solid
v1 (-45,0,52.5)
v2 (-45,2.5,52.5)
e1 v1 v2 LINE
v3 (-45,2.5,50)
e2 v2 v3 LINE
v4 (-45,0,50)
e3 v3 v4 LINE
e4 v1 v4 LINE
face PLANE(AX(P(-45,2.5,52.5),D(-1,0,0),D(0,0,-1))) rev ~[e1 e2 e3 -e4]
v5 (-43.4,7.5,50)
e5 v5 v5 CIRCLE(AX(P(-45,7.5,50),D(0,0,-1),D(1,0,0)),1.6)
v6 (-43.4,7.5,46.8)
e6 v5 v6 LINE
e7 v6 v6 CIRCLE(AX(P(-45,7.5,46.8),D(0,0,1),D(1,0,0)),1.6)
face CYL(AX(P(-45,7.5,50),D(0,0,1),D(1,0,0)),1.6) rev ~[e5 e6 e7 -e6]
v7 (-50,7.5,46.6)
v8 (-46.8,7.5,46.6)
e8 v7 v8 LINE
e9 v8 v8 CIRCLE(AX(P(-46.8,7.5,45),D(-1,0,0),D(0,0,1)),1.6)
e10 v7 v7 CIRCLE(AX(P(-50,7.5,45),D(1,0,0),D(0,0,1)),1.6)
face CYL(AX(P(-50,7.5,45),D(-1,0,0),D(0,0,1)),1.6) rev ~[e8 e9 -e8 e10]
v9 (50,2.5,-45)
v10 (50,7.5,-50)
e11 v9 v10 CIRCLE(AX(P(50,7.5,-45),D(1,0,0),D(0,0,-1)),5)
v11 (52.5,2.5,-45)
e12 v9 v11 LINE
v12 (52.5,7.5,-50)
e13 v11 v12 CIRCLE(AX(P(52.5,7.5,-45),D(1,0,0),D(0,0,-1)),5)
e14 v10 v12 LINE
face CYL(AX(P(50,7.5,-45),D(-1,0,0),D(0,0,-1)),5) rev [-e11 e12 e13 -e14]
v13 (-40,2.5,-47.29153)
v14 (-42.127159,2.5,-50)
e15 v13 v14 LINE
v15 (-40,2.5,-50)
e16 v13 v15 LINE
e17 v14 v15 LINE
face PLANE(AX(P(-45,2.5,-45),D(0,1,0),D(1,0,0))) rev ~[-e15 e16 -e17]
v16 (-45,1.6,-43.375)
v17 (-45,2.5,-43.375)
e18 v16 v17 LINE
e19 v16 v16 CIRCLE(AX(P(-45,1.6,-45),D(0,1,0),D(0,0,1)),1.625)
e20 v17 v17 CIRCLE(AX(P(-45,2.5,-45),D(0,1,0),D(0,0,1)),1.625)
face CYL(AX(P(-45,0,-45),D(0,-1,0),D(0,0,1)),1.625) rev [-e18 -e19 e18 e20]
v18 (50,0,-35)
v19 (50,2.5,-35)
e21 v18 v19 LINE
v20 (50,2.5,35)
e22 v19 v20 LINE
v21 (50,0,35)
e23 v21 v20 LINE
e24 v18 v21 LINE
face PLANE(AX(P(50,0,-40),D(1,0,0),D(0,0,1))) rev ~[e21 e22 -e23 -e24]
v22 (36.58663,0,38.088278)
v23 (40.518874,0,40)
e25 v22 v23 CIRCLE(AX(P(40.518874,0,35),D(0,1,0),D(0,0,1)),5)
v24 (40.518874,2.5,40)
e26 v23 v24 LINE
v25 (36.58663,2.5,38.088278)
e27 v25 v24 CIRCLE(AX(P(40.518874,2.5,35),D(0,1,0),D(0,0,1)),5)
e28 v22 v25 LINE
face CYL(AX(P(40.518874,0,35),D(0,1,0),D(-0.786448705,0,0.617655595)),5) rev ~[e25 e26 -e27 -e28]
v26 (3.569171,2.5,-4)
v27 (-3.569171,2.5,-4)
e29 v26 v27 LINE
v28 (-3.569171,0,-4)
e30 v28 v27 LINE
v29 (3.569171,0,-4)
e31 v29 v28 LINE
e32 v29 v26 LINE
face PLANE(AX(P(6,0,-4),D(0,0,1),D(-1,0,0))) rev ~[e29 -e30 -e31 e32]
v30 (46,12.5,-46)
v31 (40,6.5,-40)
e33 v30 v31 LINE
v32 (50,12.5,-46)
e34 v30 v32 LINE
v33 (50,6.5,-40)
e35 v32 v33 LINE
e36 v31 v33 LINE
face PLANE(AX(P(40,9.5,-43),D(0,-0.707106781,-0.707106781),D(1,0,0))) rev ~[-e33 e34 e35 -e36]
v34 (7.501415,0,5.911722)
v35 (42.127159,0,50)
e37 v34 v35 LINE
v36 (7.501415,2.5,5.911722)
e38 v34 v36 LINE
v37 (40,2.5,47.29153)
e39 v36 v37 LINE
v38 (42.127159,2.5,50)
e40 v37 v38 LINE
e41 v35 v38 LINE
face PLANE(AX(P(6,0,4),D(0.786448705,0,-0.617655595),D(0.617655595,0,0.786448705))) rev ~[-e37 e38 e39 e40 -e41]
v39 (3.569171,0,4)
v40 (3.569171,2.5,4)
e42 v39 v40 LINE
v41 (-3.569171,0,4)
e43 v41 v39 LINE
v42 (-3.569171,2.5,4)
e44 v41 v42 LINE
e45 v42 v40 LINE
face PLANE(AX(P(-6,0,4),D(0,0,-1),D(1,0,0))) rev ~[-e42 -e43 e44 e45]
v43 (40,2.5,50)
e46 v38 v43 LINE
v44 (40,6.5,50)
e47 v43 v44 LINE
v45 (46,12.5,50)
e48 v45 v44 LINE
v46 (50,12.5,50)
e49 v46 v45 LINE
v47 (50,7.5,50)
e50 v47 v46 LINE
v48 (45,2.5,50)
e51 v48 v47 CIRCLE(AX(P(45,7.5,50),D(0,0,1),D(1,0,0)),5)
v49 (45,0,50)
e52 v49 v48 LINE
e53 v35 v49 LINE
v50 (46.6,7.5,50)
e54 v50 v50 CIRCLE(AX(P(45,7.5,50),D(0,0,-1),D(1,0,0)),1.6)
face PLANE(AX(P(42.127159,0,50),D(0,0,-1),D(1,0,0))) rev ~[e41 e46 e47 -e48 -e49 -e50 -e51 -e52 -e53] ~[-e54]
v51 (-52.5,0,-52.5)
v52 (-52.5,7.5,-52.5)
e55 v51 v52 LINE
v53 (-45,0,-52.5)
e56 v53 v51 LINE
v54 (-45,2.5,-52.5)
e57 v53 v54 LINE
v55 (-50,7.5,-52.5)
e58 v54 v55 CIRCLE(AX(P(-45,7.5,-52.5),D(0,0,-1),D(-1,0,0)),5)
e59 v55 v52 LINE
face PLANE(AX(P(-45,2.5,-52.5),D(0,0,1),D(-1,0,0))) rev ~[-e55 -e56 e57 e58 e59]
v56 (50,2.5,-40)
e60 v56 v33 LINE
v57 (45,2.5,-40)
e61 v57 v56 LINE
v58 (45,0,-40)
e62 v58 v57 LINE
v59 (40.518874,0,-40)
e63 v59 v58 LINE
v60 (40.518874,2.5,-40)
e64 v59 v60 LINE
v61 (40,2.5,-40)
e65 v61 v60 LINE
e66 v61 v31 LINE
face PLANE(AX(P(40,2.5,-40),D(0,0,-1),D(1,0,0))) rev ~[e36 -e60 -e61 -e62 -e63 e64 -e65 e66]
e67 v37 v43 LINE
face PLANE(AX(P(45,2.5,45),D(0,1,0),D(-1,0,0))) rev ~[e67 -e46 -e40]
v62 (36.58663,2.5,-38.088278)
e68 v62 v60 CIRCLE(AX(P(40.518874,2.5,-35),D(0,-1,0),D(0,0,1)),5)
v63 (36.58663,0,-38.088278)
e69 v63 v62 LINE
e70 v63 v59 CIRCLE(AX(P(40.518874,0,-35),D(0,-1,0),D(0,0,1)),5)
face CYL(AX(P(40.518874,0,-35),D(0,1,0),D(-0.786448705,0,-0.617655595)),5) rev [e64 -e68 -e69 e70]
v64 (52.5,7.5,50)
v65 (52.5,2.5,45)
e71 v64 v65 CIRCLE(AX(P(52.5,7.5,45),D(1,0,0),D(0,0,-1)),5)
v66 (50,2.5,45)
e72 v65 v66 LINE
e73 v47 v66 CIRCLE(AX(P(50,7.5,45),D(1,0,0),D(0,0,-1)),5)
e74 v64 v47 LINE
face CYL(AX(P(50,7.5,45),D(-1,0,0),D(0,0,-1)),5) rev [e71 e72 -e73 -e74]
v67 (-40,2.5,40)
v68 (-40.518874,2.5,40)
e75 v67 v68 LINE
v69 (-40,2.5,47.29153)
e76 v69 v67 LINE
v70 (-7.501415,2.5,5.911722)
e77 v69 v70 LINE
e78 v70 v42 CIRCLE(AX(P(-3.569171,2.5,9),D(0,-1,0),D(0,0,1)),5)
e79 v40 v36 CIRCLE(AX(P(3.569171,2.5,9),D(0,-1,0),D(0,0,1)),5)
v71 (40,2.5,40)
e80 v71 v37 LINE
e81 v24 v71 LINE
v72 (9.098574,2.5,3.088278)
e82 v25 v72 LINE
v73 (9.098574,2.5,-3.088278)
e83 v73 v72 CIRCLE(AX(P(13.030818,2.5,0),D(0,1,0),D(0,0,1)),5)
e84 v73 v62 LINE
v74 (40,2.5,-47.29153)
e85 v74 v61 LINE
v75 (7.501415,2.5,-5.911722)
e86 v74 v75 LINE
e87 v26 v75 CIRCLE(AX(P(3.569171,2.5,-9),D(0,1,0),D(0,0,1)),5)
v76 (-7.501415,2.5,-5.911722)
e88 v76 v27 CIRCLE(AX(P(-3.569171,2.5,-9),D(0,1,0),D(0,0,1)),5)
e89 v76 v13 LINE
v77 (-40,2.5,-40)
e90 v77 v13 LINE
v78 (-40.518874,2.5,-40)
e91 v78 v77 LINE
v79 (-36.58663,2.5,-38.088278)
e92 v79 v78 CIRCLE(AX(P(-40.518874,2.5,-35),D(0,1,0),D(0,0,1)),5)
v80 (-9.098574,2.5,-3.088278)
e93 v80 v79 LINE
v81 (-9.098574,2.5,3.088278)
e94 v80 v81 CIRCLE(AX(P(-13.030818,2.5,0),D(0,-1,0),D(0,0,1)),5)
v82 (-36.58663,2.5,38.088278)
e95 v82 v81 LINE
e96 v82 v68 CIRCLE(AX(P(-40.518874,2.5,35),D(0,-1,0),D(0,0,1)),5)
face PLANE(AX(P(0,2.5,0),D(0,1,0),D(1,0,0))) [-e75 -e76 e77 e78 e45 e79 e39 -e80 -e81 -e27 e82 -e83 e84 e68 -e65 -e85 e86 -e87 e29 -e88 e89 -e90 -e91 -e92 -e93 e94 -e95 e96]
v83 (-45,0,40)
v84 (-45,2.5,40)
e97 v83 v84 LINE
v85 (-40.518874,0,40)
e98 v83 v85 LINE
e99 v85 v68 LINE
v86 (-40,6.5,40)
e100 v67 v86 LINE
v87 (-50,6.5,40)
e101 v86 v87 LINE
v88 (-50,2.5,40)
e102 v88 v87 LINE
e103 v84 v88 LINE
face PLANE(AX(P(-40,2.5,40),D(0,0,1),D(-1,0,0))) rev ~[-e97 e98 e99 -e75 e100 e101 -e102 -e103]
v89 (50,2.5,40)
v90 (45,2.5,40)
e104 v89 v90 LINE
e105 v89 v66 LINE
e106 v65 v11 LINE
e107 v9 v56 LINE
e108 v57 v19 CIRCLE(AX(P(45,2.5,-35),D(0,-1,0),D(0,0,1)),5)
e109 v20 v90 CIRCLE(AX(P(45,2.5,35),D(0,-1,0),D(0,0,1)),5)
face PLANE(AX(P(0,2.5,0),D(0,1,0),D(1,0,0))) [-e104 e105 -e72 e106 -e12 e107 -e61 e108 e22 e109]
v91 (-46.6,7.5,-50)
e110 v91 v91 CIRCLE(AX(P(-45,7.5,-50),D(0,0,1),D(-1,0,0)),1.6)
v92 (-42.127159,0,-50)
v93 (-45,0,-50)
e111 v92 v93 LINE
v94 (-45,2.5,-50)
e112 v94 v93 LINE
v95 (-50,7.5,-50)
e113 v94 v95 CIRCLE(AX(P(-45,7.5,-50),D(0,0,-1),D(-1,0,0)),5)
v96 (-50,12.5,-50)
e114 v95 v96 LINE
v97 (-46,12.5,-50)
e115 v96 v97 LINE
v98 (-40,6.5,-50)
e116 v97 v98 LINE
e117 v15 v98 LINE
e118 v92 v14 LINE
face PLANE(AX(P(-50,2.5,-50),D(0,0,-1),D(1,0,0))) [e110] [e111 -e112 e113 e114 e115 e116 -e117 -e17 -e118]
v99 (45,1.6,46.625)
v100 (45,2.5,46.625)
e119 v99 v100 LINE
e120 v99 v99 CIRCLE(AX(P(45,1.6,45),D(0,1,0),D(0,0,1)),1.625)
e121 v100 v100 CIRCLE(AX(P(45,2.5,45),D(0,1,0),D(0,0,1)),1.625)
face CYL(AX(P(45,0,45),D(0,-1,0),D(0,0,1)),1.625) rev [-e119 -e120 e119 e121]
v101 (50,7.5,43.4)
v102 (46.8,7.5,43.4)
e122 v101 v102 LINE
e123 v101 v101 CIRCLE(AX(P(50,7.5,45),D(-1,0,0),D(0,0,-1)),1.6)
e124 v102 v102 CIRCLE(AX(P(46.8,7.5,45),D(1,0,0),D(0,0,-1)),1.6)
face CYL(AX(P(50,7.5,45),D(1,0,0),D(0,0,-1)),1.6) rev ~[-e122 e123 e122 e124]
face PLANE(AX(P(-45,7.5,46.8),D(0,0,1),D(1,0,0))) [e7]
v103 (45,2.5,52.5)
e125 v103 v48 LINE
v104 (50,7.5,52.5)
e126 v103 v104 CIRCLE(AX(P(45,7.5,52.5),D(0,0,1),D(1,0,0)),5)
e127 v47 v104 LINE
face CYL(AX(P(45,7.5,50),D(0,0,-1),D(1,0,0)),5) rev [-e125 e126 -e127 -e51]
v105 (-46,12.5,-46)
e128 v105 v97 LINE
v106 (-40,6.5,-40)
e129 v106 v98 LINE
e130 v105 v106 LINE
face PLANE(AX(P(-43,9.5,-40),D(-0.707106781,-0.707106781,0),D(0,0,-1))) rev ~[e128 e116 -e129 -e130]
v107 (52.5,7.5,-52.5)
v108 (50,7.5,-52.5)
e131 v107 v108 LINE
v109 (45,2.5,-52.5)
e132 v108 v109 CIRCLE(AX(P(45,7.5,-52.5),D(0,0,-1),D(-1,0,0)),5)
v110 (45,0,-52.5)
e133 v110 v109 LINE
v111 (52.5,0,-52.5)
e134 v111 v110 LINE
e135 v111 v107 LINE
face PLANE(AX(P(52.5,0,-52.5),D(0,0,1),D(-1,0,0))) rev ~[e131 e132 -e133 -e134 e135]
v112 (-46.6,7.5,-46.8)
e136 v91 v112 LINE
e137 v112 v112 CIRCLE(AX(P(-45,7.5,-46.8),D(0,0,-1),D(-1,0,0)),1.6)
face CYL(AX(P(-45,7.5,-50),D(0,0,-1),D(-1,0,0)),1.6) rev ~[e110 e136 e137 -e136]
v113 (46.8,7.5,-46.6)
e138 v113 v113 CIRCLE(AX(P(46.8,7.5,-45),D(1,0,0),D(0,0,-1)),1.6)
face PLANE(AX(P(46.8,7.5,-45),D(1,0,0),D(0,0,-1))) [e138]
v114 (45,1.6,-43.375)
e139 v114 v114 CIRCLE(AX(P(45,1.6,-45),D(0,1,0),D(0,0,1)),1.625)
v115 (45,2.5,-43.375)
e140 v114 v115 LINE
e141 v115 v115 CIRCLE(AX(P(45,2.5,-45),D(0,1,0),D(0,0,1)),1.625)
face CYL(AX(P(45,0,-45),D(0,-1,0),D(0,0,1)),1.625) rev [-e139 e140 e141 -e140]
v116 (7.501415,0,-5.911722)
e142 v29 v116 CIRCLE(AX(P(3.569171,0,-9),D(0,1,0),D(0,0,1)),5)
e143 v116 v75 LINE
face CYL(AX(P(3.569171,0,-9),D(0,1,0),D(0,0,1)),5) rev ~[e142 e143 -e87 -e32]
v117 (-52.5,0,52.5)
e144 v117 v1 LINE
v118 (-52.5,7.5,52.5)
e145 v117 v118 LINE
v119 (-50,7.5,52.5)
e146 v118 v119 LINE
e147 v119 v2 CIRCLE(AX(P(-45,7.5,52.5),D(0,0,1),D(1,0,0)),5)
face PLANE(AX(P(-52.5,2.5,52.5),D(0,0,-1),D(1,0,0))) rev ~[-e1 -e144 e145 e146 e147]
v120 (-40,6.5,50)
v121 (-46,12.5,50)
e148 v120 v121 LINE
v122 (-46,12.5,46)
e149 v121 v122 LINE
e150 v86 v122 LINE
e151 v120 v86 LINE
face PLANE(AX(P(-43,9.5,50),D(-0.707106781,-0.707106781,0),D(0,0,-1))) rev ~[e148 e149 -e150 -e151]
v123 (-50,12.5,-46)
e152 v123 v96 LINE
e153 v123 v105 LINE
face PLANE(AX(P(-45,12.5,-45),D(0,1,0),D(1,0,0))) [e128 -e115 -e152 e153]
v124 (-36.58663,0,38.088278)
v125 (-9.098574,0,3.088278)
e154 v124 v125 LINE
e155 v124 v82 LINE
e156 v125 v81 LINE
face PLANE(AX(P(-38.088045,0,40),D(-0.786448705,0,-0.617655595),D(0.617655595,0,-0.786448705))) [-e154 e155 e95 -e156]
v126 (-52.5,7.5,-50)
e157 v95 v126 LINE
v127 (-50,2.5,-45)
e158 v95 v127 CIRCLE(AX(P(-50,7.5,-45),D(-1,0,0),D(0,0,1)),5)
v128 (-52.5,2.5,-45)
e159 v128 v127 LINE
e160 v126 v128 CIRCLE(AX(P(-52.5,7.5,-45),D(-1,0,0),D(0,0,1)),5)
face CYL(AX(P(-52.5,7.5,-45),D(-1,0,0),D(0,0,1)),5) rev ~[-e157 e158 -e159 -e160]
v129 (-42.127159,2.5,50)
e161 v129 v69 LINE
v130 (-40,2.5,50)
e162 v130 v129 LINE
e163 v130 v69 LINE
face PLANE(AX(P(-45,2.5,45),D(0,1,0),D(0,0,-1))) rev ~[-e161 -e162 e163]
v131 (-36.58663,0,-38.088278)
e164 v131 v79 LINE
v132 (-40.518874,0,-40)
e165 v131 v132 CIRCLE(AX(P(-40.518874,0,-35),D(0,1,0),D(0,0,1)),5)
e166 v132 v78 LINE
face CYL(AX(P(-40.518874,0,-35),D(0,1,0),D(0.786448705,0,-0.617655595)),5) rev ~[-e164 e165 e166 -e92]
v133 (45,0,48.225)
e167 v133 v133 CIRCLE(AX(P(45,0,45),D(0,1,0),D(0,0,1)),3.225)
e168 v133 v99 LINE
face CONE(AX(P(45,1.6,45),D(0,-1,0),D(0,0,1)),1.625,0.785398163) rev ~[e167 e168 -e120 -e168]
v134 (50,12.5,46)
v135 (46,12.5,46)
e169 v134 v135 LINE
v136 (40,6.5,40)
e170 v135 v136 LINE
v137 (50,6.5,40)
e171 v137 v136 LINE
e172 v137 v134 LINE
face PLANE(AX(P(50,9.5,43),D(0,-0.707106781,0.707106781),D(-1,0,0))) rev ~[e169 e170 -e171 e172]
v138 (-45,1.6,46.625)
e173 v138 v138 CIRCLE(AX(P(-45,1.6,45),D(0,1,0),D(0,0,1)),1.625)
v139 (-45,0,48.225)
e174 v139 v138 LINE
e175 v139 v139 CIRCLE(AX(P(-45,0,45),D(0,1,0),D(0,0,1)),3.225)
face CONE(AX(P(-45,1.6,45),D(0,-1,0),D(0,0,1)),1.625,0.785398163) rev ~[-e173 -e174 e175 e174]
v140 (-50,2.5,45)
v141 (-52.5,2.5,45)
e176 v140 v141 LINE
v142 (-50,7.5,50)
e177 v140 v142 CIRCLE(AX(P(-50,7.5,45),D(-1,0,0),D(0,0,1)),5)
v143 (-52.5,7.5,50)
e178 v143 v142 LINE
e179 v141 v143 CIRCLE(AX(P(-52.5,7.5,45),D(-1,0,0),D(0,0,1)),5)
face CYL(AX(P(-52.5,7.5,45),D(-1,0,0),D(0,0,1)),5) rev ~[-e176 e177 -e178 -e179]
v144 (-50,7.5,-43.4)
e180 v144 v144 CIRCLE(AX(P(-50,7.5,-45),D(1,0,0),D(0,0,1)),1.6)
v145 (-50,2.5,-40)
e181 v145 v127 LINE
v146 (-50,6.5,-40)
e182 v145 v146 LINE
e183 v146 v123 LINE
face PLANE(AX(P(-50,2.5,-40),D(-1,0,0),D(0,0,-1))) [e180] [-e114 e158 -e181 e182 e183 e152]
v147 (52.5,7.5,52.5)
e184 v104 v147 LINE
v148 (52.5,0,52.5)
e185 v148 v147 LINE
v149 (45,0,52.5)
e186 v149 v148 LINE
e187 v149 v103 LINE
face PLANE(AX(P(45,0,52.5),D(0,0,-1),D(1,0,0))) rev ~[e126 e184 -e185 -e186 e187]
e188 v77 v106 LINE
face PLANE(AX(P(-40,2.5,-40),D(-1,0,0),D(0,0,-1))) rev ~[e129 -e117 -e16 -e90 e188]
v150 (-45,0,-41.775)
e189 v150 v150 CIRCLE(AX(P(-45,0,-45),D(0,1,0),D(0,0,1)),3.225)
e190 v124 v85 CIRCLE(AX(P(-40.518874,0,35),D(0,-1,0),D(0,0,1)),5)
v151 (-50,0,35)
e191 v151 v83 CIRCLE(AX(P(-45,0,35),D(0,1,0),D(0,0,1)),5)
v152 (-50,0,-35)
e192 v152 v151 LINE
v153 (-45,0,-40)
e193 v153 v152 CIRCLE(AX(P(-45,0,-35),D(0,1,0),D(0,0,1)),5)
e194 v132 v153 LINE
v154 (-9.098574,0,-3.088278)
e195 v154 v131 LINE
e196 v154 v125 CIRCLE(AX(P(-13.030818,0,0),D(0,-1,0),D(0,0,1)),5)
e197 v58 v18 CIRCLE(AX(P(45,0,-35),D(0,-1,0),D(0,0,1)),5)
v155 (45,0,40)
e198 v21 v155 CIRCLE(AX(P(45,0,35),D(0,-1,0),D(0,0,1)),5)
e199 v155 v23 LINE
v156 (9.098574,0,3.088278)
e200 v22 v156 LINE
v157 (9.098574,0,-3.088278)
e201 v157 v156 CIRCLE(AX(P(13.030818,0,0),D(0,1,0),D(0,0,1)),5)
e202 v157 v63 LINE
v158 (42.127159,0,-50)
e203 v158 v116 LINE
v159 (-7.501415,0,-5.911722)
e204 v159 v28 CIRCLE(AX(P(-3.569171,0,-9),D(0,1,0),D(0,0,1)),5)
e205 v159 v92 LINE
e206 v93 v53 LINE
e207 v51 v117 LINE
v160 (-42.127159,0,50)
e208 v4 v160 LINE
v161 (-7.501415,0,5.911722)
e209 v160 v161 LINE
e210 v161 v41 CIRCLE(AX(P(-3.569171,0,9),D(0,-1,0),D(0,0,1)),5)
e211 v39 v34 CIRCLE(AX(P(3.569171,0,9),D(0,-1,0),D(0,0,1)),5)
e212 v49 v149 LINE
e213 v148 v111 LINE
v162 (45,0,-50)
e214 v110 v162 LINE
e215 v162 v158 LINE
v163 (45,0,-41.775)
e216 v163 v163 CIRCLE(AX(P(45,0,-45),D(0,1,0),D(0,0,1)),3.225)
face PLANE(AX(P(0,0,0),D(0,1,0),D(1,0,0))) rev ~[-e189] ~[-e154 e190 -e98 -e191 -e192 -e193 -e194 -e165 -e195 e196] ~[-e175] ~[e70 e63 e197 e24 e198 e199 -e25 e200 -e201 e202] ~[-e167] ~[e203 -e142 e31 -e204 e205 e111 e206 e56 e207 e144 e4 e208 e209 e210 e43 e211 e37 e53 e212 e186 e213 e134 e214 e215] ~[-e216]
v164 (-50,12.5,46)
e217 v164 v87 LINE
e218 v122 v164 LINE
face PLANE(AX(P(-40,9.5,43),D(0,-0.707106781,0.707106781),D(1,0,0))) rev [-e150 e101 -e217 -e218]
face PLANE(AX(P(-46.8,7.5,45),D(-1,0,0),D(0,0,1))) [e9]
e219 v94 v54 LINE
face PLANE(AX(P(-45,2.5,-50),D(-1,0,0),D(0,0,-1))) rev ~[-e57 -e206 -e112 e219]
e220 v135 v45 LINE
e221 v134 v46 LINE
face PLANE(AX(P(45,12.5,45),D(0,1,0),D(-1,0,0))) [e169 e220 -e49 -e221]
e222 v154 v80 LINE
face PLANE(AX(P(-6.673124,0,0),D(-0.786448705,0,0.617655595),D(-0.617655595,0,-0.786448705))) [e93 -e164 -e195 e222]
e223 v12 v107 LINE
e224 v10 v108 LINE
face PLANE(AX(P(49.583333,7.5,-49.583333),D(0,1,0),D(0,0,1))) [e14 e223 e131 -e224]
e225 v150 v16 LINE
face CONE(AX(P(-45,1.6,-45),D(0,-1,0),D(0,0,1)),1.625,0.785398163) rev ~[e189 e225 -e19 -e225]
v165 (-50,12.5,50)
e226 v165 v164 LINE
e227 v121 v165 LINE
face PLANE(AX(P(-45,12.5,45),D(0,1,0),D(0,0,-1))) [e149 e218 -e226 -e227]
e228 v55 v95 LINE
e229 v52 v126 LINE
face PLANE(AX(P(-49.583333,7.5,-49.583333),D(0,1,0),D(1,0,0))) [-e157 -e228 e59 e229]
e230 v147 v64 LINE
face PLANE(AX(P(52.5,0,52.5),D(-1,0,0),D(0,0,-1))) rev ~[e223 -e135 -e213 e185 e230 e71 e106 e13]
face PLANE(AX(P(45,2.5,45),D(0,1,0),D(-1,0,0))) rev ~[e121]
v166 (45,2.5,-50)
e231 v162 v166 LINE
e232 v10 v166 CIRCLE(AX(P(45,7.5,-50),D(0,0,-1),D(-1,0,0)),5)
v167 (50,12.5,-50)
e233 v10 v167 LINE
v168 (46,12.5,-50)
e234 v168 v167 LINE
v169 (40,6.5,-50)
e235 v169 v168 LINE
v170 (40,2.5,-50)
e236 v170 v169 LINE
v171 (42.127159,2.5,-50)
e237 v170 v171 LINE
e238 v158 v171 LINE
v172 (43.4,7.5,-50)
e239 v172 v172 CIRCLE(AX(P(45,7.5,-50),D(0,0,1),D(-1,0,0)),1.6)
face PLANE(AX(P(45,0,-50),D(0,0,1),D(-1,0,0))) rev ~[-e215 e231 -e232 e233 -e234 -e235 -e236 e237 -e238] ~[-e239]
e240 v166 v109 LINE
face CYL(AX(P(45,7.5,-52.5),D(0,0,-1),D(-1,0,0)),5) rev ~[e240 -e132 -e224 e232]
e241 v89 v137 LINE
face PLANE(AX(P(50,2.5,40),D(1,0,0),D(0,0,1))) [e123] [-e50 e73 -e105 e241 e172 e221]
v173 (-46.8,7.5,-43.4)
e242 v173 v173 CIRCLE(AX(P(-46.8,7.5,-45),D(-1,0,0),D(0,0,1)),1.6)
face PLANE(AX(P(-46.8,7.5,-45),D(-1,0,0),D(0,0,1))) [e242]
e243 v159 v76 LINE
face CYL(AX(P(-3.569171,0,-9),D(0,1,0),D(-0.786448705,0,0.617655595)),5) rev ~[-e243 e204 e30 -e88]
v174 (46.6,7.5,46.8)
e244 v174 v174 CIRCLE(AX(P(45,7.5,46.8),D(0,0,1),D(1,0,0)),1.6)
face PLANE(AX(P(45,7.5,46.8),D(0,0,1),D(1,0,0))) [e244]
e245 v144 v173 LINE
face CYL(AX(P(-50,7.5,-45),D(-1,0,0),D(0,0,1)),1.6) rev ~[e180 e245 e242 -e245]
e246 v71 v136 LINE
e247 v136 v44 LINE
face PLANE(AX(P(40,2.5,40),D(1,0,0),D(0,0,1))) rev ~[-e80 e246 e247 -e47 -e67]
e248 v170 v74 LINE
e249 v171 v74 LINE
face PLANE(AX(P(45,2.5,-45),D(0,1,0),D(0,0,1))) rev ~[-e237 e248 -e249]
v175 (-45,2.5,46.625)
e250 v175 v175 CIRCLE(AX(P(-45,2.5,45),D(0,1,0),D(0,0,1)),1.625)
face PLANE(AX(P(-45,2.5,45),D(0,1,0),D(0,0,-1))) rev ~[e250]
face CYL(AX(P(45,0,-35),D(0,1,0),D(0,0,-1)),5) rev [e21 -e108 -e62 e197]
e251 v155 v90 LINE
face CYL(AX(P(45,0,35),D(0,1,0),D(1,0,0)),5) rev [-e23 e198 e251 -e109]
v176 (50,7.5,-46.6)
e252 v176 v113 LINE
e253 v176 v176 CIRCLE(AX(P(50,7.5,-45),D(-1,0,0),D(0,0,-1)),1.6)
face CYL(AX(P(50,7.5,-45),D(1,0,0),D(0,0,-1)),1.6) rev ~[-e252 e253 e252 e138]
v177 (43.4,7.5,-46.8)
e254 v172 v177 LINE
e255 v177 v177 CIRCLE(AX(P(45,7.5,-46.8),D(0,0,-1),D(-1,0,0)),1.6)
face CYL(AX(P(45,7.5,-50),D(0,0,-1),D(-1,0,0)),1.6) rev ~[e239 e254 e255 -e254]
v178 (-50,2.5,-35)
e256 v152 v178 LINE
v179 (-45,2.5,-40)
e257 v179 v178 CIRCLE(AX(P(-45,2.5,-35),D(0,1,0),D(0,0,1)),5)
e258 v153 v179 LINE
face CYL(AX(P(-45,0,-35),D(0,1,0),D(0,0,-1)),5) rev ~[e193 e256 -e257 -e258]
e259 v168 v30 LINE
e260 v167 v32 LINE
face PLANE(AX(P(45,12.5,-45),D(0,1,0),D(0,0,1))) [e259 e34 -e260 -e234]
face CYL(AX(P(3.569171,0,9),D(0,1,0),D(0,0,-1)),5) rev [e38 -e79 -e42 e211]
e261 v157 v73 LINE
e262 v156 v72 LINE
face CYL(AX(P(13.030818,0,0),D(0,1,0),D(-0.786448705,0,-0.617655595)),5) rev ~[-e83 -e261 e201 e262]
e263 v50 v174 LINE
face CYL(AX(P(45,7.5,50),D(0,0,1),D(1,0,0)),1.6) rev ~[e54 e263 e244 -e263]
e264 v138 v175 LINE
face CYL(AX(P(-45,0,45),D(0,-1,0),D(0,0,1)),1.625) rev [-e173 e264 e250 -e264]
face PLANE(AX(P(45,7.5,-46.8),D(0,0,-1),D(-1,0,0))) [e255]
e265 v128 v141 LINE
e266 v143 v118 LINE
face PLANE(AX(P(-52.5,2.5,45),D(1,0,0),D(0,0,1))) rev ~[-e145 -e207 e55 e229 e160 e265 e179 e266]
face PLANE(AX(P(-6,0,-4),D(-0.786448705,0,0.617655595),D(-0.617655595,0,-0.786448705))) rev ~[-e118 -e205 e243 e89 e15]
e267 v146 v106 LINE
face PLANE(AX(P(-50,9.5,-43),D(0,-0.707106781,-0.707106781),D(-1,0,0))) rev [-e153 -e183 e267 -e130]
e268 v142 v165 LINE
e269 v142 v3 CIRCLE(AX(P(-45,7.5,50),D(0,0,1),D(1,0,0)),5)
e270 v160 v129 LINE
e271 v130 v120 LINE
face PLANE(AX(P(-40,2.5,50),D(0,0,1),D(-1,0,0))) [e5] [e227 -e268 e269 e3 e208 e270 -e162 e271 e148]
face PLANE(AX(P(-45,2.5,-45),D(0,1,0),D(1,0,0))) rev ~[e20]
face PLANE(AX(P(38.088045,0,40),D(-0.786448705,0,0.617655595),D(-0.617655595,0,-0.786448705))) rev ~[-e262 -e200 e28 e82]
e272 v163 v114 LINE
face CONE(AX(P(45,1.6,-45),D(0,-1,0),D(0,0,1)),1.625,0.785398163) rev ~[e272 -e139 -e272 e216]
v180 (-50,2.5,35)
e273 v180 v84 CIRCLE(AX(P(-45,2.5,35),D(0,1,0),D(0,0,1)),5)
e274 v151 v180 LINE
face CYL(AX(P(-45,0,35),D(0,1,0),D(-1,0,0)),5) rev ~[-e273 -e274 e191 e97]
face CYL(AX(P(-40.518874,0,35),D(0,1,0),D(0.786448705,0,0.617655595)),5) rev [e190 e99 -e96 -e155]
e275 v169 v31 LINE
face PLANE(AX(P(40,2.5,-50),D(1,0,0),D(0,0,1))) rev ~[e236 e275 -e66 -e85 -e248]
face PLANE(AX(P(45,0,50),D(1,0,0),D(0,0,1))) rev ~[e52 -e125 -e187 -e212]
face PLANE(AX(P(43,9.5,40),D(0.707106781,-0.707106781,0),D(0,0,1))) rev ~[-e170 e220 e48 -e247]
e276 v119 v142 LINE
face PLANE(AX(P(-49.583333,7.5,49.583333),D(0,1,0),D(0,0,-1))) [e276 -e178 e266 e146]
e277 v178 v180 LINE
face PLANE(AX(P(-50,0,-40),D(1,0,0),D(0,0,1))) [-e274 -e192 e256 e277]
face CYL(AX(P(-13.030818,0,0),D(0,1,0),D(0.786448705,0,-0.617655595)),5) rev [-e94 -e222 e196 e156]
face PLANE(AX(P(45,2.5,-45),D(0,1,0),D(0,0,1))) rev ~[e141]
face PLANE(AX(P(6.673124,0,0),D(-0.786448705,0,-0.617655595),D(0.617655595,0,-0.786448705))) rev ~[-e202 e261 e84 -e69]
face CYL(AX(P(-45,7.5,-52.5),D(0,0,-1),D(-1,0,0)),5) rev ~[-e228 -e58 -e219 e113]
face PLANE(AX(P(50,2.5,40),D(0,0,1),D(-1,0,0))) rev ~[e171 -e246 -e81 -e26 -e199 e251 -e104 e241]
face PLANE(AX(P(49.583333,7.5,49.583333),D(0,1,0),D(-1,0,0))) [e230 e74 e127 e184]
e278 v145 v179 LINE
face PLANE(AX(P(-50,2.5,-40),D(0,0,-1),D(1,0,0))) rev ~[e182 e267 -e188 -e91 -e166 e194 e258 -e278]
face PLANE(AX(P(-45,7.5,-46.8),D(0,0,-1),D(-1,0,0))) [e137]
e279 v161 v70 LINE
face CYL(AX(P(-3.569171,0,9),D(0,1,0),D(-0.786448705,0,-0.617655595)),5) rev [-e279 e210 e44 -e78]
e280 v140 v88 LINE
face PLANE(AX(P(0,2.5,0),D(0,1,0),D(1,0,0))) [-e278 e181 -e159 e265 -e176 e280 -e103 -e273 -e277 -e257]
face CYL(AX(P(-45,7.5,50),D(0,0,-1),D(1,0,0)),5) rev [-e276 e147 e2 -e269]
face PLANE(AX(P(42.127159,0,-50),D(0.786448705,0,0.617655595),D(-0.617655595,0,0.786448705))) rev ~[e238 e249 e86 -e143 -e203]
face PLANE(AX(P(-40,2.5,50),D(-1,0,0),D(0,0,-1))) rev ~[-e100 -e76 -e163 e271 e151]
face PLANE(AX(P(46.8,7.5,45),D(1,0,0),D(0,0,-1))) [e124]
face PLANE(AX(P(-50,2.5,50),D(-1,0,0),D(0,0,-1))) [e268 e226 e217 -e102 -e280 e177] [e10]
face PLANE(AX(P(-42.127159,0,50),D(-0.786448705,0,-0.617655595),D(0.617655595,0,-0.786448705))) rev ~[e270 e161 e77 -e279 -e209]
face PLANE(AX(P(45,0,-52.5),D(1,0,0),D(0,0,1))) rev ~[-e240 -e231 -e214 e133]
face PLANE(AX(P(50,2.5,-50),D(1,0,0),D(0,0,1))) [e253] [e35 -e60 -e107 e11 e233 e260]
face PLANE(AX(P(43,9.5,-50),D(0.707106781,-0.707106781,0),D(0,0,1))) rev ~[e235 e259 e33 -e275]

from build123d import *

# Parameters (mm, degrees)
SKETCH1_R                    = 1.625
BOSS_EXTRUDE1_DEPTH          = 2.5
FILLET1_R                    = 5
FILLET2_R                    = 5
CHAMFER2_SIZE                = 1.6
SKETCH2_W                    = 10
SKETCH2_H                    = 10
BOSS_EXTRUDE2_DEPTH          = 10
SKETCH3_R                    = 1.6
CUT_EXTRUDE1_DEPTH           = 3.2
SKETCH4_R                    = 1.6
CUT_EXTRUDE2_DEPTH           = 3.2
CHAMFER1_SIZE                = 6
BOSS_EXTRUDE3_DEPTH          = 5
CIRPATTERN1_COUNT            = 4
CHAMFER1_OF_CIRPATTERN1_SIZE = 6
SKETCH7_R                    = 5
CUT_EXTRUDE5_DEPTH           = 2.5
SKETCH6_R                    = 5
CUT_EXTRUDE6_DEPTH           = 2.5
CUT_EXTRUDE7_START           = -2.5
SKETCH8_R                    = 5
CUT_EXTRUDE7_DEPTH           = 2.5
CUT_EXTRUDE8_START           = -2.5
SKETCH9_R                    = 5
CUT_EXTRUDE8_DEPTH           = 2.5


with BuildPart() as part:
    # Sketch1 → Boss-Extrude1 (new body)
    with BuildSketch(Plane(origin=(0, 0, 0), x_dir=(1, 0, 0), z_dir=(0, 1, 0))):
        Polygon((-52.5, 45), (-52.5, -45), (-52.5, -52.5), (-45, -52.5), (-45, -50), (-42.127158908, -50), (-6, -4), (6, -4), (42.127158908, -50), (45, -50), (45, -52.5), (52.5, -52.5), (52.5, -45), (52.5, 45), (52.5, 52.5), (45, 52.5), (45, 50), (42.127158908, 50), (6, 4), (-6, 4), (-42.127158908, 50), (-45, 50), (-45, 52.5), (-52.5, 52.5), align=None)
        with Locations(Location((-45, 45, 0), (0, 0, 270))):
            Circle(SKETCH1_R, mode=Mode.SUBTRACT)
        with Locations(Location((45, 45, 0), (0, 0, 270))):
            Circle(SKETCH1_R, mode=Mode.SUBTRACT)
        with Locations(Location((45, -45, 0), (0, 0, 270))):
            Circle(SKETCH1_R, mode=Mode.SUBTRACT)
        with Locations(Location((-45, -45, 0), (0, 0, 270))):
            Circle(SKETCH1_R, mode=Mode.SUBTRACT)
        Polygon((-50, 40), (-50, -40), (-38.088044946, -40), (-6.673124156, 0), (-38.088044946, 40), align=None, mode=Mode.SUBTRACT)
        Polygon((50, -40), (38.088044946, -40), (6.673124156, 0), (38.088044946, 40), (50, 40), align=None, mode=Mode.SUBTRACT)
    extrude(amount=BOSS_EXTRUDE1_DEPTH)

    # Fillet1
    fillet1_edges = [part.edges().sort_by_distance(p)[0] for p in [
        (6, 1.25, 4),
        (-6, 1.25, 4),
        (-6, 1.25, -4),
        (6, 1.25, -4),
        (-6.673124156, 1.25, 0),
        (6.673124156, 1.25, 0),
    ]]
    fillet(fillet1_edges, radius=FILLET1_R)

    # Fillet2
    fillet2_edges = [part.edges().sort_by_distance(p)[0] for p in [
        (-38.088044946, 1.25, -40),
        (-50, 1.25, -40),
        (-50, 1.25, 40),
        (-38.088044946, 1.25, 40),
        (50, 1.25, 40),
        (50, 1.25, -40),
        (38.088044946, 1.25, -40),
        (38.088044946, 1.25, 40),
    ]]
    fillet(fillet2_edges, radius=FILLET2_R)

    # Chamfer2
    chamfer2_edges = [part.edges().sort_by_distance(p)[0] for p in [
        (-45, 0, -46.625),
        (45, 0, -46.625),
        (45, 0, 43.375),
        (-45, 0, 43.375),
    ]]
    chamfer(chamfer2_edges, length=CHAMFER2_SIZE)

    # Sketch2 → Boss-Extrude2 (add)
    with BuildSketch(Plane(origin=(0, 2.5, 0), x_dir=(1, 0, 0), z_dir=(0, 1, 0))):
        with Locations((-45, 45)):
            Rectangle(SKETCH2_W, SKETCH2_H)
    boss_extrude2 = extrude(amount=BOSS_EXTRUDE2_DEPTH)

    # Sketch3 → Cut-Extrude1 (cut)
    with BuildSketch(Plane.ZY.offset(50)):
        with Locations((-45, 7.5)):
            Circle(SKETCH3_R)
    cut_extrude1 = extrude(amount=-CUT_EXTRUDE1_DEPTH, mode=Mode.SUBTRACT)

    # Sketch4 → Cut-Extrude2 (cut)
    with BuildSketch(Plane(origin=(0, 0, -50), x_dir=(-1, 0, 0), z_dir=(0, 0, -1))):
        with Locations((45, 7.5)):
            Circle(SKETCH4_R)
    cut_extrude2 = extrude(amount=-CUT_EXTRUDE2_DEPTH, mode=Mode.SUBTRACT)

    # Chamfer1
    chamfer1_edges = [part.edges().sort_by_distance(p)[0] for p in [
        (-40, 12.5, -45),
        (-45, 12.5, -40),
    ]]
    chamfer(chamfer1_edges, length=CHAMFER1_SIZE)

    # Sketch5 → Boss-Extrude3 (add)
    with BuildSketch(Plane(origin=(0, 2.5, 0), x_dir=(1, 0, 0), z_dir=(0, 1, 0))):
        Polygon((-45, 50), (-45, 52.5), (-52.5, 52.5), (-52.5, 45), (-50, 45), (-50, 50), align=None)
    boss_extrude3 = extrude(amount=BOSS_EXTRUDE3_DEPTH)

    # CirPattern1: Boss-Extrude2, Cut-Extrude1, Cut-Extrude2, Boss-Extrude3 ×4 about axis
    cirpattern1_axis = Axis((0, 0, 0), (0, 1, 0))
    add([boss_extrude2.rotate(cirpattern1_axis, i * 360 / CIRPATTERN1_COUNT) for i in range(1, CIRPATTERN1_COUNT)])
    add([cut_extrude1.rotate(cirpattern1_axis, i * 360 / CIRPATTERN1_COUNT) for i in range(1, CIRPATTERN1_COUNT)], mode=Mode.SUBTRACT)
    add([cut_extrude2.rotate(cirpattern1_axis, i * 360 / CIRPATTERN1_COUNT) for i in range(1, CIRPATTERN1_COUNT)], mode=Mode.SUBTRACT)
    add([boss_extrude3.rotate(cirpattern1_axis, i * 360 / CIRPATTERN1_COUNT) for i in range(1, CIRPATTERN1_COUNT)])

    # Chamfer1 of CirPattern1
    chamfer1_of_cirpattern1_edges = [part.edges().sort_by_distance(p)[0] for p in [
        (-45, 12.5, 40),
        (-40, 12.5, 45),
        (40, 12.5, 45),
        (45, 12.5, 40),
        (45, 12.5, -40),
        (40, 12.5, -45),
    ]]
    chamfer(chamfer1_of_cirpattern1_edges, length=CHAMFER1_OF_CIRPATTERN1_SIZE)

    # Sketch7 → Cut-Extrude5 (cut)
    with BuildSketch(Plane(origin=(0, 0, -52.5), x_dir=(-1, 0, 0), z_dir=(0, 0, -1))):
        with Locations((45, 7.5)):
            Circle(SKETCH7_R)
        with Locations((-45, 7.5)):
            Circle(SKETCH7_R)
    extrude(amount=-CUT_EXTRUDE5_DEPTH, mode=Mode.SUBTRACT)

    # Sketch6 → Cut-Extrude6 (cut)
    with BuildSketch(Plane.ZY.offset(52.5)):
        with Locations((-45, 7.5)):
            Circle(SKETCH6_R)
        with Locations((45, 7.5)):
            Circle(SKETCH6_R)
    extrude(amount=-CUT_EXTRUDE6_DEPTH, mode=Mode.SUBTRACT)

    # Sketch8 → Cut-Extrude7 (cut)
    with BuildSketch(Plane.XY.offset(52.5).offset(CUT_EXTRUDE7_START)):
        with Locations((-45, 7.5)):
            Circle(SKETCH8_R)
        with Locations((45, 7.5)):
            Circle(SKETCH8_R)
    extrude(amount=CUT_EXTRUDE7_DEPTH, mode=Mode.SUBTRACT)

    # Sketch9 → Cut-Extrude8 (cut)
    with BuildSketch(Plane(origin=(52.5, 0, 0), x_dir=(0, 0, -1), z_dir=(1, 0, 0)).offset(CUT_EXTRUDE8_START)):
        with Locations((-45, 7.5)):
            Circle(SKETCH9_R)
        with Locations((45, 7.5)):
            Circle(SKETCH9_R)
    extrude(amount=CUT_EXTRUDE8_DEPTH, mode=Mode.SUBTRACT)


solid = part.part
